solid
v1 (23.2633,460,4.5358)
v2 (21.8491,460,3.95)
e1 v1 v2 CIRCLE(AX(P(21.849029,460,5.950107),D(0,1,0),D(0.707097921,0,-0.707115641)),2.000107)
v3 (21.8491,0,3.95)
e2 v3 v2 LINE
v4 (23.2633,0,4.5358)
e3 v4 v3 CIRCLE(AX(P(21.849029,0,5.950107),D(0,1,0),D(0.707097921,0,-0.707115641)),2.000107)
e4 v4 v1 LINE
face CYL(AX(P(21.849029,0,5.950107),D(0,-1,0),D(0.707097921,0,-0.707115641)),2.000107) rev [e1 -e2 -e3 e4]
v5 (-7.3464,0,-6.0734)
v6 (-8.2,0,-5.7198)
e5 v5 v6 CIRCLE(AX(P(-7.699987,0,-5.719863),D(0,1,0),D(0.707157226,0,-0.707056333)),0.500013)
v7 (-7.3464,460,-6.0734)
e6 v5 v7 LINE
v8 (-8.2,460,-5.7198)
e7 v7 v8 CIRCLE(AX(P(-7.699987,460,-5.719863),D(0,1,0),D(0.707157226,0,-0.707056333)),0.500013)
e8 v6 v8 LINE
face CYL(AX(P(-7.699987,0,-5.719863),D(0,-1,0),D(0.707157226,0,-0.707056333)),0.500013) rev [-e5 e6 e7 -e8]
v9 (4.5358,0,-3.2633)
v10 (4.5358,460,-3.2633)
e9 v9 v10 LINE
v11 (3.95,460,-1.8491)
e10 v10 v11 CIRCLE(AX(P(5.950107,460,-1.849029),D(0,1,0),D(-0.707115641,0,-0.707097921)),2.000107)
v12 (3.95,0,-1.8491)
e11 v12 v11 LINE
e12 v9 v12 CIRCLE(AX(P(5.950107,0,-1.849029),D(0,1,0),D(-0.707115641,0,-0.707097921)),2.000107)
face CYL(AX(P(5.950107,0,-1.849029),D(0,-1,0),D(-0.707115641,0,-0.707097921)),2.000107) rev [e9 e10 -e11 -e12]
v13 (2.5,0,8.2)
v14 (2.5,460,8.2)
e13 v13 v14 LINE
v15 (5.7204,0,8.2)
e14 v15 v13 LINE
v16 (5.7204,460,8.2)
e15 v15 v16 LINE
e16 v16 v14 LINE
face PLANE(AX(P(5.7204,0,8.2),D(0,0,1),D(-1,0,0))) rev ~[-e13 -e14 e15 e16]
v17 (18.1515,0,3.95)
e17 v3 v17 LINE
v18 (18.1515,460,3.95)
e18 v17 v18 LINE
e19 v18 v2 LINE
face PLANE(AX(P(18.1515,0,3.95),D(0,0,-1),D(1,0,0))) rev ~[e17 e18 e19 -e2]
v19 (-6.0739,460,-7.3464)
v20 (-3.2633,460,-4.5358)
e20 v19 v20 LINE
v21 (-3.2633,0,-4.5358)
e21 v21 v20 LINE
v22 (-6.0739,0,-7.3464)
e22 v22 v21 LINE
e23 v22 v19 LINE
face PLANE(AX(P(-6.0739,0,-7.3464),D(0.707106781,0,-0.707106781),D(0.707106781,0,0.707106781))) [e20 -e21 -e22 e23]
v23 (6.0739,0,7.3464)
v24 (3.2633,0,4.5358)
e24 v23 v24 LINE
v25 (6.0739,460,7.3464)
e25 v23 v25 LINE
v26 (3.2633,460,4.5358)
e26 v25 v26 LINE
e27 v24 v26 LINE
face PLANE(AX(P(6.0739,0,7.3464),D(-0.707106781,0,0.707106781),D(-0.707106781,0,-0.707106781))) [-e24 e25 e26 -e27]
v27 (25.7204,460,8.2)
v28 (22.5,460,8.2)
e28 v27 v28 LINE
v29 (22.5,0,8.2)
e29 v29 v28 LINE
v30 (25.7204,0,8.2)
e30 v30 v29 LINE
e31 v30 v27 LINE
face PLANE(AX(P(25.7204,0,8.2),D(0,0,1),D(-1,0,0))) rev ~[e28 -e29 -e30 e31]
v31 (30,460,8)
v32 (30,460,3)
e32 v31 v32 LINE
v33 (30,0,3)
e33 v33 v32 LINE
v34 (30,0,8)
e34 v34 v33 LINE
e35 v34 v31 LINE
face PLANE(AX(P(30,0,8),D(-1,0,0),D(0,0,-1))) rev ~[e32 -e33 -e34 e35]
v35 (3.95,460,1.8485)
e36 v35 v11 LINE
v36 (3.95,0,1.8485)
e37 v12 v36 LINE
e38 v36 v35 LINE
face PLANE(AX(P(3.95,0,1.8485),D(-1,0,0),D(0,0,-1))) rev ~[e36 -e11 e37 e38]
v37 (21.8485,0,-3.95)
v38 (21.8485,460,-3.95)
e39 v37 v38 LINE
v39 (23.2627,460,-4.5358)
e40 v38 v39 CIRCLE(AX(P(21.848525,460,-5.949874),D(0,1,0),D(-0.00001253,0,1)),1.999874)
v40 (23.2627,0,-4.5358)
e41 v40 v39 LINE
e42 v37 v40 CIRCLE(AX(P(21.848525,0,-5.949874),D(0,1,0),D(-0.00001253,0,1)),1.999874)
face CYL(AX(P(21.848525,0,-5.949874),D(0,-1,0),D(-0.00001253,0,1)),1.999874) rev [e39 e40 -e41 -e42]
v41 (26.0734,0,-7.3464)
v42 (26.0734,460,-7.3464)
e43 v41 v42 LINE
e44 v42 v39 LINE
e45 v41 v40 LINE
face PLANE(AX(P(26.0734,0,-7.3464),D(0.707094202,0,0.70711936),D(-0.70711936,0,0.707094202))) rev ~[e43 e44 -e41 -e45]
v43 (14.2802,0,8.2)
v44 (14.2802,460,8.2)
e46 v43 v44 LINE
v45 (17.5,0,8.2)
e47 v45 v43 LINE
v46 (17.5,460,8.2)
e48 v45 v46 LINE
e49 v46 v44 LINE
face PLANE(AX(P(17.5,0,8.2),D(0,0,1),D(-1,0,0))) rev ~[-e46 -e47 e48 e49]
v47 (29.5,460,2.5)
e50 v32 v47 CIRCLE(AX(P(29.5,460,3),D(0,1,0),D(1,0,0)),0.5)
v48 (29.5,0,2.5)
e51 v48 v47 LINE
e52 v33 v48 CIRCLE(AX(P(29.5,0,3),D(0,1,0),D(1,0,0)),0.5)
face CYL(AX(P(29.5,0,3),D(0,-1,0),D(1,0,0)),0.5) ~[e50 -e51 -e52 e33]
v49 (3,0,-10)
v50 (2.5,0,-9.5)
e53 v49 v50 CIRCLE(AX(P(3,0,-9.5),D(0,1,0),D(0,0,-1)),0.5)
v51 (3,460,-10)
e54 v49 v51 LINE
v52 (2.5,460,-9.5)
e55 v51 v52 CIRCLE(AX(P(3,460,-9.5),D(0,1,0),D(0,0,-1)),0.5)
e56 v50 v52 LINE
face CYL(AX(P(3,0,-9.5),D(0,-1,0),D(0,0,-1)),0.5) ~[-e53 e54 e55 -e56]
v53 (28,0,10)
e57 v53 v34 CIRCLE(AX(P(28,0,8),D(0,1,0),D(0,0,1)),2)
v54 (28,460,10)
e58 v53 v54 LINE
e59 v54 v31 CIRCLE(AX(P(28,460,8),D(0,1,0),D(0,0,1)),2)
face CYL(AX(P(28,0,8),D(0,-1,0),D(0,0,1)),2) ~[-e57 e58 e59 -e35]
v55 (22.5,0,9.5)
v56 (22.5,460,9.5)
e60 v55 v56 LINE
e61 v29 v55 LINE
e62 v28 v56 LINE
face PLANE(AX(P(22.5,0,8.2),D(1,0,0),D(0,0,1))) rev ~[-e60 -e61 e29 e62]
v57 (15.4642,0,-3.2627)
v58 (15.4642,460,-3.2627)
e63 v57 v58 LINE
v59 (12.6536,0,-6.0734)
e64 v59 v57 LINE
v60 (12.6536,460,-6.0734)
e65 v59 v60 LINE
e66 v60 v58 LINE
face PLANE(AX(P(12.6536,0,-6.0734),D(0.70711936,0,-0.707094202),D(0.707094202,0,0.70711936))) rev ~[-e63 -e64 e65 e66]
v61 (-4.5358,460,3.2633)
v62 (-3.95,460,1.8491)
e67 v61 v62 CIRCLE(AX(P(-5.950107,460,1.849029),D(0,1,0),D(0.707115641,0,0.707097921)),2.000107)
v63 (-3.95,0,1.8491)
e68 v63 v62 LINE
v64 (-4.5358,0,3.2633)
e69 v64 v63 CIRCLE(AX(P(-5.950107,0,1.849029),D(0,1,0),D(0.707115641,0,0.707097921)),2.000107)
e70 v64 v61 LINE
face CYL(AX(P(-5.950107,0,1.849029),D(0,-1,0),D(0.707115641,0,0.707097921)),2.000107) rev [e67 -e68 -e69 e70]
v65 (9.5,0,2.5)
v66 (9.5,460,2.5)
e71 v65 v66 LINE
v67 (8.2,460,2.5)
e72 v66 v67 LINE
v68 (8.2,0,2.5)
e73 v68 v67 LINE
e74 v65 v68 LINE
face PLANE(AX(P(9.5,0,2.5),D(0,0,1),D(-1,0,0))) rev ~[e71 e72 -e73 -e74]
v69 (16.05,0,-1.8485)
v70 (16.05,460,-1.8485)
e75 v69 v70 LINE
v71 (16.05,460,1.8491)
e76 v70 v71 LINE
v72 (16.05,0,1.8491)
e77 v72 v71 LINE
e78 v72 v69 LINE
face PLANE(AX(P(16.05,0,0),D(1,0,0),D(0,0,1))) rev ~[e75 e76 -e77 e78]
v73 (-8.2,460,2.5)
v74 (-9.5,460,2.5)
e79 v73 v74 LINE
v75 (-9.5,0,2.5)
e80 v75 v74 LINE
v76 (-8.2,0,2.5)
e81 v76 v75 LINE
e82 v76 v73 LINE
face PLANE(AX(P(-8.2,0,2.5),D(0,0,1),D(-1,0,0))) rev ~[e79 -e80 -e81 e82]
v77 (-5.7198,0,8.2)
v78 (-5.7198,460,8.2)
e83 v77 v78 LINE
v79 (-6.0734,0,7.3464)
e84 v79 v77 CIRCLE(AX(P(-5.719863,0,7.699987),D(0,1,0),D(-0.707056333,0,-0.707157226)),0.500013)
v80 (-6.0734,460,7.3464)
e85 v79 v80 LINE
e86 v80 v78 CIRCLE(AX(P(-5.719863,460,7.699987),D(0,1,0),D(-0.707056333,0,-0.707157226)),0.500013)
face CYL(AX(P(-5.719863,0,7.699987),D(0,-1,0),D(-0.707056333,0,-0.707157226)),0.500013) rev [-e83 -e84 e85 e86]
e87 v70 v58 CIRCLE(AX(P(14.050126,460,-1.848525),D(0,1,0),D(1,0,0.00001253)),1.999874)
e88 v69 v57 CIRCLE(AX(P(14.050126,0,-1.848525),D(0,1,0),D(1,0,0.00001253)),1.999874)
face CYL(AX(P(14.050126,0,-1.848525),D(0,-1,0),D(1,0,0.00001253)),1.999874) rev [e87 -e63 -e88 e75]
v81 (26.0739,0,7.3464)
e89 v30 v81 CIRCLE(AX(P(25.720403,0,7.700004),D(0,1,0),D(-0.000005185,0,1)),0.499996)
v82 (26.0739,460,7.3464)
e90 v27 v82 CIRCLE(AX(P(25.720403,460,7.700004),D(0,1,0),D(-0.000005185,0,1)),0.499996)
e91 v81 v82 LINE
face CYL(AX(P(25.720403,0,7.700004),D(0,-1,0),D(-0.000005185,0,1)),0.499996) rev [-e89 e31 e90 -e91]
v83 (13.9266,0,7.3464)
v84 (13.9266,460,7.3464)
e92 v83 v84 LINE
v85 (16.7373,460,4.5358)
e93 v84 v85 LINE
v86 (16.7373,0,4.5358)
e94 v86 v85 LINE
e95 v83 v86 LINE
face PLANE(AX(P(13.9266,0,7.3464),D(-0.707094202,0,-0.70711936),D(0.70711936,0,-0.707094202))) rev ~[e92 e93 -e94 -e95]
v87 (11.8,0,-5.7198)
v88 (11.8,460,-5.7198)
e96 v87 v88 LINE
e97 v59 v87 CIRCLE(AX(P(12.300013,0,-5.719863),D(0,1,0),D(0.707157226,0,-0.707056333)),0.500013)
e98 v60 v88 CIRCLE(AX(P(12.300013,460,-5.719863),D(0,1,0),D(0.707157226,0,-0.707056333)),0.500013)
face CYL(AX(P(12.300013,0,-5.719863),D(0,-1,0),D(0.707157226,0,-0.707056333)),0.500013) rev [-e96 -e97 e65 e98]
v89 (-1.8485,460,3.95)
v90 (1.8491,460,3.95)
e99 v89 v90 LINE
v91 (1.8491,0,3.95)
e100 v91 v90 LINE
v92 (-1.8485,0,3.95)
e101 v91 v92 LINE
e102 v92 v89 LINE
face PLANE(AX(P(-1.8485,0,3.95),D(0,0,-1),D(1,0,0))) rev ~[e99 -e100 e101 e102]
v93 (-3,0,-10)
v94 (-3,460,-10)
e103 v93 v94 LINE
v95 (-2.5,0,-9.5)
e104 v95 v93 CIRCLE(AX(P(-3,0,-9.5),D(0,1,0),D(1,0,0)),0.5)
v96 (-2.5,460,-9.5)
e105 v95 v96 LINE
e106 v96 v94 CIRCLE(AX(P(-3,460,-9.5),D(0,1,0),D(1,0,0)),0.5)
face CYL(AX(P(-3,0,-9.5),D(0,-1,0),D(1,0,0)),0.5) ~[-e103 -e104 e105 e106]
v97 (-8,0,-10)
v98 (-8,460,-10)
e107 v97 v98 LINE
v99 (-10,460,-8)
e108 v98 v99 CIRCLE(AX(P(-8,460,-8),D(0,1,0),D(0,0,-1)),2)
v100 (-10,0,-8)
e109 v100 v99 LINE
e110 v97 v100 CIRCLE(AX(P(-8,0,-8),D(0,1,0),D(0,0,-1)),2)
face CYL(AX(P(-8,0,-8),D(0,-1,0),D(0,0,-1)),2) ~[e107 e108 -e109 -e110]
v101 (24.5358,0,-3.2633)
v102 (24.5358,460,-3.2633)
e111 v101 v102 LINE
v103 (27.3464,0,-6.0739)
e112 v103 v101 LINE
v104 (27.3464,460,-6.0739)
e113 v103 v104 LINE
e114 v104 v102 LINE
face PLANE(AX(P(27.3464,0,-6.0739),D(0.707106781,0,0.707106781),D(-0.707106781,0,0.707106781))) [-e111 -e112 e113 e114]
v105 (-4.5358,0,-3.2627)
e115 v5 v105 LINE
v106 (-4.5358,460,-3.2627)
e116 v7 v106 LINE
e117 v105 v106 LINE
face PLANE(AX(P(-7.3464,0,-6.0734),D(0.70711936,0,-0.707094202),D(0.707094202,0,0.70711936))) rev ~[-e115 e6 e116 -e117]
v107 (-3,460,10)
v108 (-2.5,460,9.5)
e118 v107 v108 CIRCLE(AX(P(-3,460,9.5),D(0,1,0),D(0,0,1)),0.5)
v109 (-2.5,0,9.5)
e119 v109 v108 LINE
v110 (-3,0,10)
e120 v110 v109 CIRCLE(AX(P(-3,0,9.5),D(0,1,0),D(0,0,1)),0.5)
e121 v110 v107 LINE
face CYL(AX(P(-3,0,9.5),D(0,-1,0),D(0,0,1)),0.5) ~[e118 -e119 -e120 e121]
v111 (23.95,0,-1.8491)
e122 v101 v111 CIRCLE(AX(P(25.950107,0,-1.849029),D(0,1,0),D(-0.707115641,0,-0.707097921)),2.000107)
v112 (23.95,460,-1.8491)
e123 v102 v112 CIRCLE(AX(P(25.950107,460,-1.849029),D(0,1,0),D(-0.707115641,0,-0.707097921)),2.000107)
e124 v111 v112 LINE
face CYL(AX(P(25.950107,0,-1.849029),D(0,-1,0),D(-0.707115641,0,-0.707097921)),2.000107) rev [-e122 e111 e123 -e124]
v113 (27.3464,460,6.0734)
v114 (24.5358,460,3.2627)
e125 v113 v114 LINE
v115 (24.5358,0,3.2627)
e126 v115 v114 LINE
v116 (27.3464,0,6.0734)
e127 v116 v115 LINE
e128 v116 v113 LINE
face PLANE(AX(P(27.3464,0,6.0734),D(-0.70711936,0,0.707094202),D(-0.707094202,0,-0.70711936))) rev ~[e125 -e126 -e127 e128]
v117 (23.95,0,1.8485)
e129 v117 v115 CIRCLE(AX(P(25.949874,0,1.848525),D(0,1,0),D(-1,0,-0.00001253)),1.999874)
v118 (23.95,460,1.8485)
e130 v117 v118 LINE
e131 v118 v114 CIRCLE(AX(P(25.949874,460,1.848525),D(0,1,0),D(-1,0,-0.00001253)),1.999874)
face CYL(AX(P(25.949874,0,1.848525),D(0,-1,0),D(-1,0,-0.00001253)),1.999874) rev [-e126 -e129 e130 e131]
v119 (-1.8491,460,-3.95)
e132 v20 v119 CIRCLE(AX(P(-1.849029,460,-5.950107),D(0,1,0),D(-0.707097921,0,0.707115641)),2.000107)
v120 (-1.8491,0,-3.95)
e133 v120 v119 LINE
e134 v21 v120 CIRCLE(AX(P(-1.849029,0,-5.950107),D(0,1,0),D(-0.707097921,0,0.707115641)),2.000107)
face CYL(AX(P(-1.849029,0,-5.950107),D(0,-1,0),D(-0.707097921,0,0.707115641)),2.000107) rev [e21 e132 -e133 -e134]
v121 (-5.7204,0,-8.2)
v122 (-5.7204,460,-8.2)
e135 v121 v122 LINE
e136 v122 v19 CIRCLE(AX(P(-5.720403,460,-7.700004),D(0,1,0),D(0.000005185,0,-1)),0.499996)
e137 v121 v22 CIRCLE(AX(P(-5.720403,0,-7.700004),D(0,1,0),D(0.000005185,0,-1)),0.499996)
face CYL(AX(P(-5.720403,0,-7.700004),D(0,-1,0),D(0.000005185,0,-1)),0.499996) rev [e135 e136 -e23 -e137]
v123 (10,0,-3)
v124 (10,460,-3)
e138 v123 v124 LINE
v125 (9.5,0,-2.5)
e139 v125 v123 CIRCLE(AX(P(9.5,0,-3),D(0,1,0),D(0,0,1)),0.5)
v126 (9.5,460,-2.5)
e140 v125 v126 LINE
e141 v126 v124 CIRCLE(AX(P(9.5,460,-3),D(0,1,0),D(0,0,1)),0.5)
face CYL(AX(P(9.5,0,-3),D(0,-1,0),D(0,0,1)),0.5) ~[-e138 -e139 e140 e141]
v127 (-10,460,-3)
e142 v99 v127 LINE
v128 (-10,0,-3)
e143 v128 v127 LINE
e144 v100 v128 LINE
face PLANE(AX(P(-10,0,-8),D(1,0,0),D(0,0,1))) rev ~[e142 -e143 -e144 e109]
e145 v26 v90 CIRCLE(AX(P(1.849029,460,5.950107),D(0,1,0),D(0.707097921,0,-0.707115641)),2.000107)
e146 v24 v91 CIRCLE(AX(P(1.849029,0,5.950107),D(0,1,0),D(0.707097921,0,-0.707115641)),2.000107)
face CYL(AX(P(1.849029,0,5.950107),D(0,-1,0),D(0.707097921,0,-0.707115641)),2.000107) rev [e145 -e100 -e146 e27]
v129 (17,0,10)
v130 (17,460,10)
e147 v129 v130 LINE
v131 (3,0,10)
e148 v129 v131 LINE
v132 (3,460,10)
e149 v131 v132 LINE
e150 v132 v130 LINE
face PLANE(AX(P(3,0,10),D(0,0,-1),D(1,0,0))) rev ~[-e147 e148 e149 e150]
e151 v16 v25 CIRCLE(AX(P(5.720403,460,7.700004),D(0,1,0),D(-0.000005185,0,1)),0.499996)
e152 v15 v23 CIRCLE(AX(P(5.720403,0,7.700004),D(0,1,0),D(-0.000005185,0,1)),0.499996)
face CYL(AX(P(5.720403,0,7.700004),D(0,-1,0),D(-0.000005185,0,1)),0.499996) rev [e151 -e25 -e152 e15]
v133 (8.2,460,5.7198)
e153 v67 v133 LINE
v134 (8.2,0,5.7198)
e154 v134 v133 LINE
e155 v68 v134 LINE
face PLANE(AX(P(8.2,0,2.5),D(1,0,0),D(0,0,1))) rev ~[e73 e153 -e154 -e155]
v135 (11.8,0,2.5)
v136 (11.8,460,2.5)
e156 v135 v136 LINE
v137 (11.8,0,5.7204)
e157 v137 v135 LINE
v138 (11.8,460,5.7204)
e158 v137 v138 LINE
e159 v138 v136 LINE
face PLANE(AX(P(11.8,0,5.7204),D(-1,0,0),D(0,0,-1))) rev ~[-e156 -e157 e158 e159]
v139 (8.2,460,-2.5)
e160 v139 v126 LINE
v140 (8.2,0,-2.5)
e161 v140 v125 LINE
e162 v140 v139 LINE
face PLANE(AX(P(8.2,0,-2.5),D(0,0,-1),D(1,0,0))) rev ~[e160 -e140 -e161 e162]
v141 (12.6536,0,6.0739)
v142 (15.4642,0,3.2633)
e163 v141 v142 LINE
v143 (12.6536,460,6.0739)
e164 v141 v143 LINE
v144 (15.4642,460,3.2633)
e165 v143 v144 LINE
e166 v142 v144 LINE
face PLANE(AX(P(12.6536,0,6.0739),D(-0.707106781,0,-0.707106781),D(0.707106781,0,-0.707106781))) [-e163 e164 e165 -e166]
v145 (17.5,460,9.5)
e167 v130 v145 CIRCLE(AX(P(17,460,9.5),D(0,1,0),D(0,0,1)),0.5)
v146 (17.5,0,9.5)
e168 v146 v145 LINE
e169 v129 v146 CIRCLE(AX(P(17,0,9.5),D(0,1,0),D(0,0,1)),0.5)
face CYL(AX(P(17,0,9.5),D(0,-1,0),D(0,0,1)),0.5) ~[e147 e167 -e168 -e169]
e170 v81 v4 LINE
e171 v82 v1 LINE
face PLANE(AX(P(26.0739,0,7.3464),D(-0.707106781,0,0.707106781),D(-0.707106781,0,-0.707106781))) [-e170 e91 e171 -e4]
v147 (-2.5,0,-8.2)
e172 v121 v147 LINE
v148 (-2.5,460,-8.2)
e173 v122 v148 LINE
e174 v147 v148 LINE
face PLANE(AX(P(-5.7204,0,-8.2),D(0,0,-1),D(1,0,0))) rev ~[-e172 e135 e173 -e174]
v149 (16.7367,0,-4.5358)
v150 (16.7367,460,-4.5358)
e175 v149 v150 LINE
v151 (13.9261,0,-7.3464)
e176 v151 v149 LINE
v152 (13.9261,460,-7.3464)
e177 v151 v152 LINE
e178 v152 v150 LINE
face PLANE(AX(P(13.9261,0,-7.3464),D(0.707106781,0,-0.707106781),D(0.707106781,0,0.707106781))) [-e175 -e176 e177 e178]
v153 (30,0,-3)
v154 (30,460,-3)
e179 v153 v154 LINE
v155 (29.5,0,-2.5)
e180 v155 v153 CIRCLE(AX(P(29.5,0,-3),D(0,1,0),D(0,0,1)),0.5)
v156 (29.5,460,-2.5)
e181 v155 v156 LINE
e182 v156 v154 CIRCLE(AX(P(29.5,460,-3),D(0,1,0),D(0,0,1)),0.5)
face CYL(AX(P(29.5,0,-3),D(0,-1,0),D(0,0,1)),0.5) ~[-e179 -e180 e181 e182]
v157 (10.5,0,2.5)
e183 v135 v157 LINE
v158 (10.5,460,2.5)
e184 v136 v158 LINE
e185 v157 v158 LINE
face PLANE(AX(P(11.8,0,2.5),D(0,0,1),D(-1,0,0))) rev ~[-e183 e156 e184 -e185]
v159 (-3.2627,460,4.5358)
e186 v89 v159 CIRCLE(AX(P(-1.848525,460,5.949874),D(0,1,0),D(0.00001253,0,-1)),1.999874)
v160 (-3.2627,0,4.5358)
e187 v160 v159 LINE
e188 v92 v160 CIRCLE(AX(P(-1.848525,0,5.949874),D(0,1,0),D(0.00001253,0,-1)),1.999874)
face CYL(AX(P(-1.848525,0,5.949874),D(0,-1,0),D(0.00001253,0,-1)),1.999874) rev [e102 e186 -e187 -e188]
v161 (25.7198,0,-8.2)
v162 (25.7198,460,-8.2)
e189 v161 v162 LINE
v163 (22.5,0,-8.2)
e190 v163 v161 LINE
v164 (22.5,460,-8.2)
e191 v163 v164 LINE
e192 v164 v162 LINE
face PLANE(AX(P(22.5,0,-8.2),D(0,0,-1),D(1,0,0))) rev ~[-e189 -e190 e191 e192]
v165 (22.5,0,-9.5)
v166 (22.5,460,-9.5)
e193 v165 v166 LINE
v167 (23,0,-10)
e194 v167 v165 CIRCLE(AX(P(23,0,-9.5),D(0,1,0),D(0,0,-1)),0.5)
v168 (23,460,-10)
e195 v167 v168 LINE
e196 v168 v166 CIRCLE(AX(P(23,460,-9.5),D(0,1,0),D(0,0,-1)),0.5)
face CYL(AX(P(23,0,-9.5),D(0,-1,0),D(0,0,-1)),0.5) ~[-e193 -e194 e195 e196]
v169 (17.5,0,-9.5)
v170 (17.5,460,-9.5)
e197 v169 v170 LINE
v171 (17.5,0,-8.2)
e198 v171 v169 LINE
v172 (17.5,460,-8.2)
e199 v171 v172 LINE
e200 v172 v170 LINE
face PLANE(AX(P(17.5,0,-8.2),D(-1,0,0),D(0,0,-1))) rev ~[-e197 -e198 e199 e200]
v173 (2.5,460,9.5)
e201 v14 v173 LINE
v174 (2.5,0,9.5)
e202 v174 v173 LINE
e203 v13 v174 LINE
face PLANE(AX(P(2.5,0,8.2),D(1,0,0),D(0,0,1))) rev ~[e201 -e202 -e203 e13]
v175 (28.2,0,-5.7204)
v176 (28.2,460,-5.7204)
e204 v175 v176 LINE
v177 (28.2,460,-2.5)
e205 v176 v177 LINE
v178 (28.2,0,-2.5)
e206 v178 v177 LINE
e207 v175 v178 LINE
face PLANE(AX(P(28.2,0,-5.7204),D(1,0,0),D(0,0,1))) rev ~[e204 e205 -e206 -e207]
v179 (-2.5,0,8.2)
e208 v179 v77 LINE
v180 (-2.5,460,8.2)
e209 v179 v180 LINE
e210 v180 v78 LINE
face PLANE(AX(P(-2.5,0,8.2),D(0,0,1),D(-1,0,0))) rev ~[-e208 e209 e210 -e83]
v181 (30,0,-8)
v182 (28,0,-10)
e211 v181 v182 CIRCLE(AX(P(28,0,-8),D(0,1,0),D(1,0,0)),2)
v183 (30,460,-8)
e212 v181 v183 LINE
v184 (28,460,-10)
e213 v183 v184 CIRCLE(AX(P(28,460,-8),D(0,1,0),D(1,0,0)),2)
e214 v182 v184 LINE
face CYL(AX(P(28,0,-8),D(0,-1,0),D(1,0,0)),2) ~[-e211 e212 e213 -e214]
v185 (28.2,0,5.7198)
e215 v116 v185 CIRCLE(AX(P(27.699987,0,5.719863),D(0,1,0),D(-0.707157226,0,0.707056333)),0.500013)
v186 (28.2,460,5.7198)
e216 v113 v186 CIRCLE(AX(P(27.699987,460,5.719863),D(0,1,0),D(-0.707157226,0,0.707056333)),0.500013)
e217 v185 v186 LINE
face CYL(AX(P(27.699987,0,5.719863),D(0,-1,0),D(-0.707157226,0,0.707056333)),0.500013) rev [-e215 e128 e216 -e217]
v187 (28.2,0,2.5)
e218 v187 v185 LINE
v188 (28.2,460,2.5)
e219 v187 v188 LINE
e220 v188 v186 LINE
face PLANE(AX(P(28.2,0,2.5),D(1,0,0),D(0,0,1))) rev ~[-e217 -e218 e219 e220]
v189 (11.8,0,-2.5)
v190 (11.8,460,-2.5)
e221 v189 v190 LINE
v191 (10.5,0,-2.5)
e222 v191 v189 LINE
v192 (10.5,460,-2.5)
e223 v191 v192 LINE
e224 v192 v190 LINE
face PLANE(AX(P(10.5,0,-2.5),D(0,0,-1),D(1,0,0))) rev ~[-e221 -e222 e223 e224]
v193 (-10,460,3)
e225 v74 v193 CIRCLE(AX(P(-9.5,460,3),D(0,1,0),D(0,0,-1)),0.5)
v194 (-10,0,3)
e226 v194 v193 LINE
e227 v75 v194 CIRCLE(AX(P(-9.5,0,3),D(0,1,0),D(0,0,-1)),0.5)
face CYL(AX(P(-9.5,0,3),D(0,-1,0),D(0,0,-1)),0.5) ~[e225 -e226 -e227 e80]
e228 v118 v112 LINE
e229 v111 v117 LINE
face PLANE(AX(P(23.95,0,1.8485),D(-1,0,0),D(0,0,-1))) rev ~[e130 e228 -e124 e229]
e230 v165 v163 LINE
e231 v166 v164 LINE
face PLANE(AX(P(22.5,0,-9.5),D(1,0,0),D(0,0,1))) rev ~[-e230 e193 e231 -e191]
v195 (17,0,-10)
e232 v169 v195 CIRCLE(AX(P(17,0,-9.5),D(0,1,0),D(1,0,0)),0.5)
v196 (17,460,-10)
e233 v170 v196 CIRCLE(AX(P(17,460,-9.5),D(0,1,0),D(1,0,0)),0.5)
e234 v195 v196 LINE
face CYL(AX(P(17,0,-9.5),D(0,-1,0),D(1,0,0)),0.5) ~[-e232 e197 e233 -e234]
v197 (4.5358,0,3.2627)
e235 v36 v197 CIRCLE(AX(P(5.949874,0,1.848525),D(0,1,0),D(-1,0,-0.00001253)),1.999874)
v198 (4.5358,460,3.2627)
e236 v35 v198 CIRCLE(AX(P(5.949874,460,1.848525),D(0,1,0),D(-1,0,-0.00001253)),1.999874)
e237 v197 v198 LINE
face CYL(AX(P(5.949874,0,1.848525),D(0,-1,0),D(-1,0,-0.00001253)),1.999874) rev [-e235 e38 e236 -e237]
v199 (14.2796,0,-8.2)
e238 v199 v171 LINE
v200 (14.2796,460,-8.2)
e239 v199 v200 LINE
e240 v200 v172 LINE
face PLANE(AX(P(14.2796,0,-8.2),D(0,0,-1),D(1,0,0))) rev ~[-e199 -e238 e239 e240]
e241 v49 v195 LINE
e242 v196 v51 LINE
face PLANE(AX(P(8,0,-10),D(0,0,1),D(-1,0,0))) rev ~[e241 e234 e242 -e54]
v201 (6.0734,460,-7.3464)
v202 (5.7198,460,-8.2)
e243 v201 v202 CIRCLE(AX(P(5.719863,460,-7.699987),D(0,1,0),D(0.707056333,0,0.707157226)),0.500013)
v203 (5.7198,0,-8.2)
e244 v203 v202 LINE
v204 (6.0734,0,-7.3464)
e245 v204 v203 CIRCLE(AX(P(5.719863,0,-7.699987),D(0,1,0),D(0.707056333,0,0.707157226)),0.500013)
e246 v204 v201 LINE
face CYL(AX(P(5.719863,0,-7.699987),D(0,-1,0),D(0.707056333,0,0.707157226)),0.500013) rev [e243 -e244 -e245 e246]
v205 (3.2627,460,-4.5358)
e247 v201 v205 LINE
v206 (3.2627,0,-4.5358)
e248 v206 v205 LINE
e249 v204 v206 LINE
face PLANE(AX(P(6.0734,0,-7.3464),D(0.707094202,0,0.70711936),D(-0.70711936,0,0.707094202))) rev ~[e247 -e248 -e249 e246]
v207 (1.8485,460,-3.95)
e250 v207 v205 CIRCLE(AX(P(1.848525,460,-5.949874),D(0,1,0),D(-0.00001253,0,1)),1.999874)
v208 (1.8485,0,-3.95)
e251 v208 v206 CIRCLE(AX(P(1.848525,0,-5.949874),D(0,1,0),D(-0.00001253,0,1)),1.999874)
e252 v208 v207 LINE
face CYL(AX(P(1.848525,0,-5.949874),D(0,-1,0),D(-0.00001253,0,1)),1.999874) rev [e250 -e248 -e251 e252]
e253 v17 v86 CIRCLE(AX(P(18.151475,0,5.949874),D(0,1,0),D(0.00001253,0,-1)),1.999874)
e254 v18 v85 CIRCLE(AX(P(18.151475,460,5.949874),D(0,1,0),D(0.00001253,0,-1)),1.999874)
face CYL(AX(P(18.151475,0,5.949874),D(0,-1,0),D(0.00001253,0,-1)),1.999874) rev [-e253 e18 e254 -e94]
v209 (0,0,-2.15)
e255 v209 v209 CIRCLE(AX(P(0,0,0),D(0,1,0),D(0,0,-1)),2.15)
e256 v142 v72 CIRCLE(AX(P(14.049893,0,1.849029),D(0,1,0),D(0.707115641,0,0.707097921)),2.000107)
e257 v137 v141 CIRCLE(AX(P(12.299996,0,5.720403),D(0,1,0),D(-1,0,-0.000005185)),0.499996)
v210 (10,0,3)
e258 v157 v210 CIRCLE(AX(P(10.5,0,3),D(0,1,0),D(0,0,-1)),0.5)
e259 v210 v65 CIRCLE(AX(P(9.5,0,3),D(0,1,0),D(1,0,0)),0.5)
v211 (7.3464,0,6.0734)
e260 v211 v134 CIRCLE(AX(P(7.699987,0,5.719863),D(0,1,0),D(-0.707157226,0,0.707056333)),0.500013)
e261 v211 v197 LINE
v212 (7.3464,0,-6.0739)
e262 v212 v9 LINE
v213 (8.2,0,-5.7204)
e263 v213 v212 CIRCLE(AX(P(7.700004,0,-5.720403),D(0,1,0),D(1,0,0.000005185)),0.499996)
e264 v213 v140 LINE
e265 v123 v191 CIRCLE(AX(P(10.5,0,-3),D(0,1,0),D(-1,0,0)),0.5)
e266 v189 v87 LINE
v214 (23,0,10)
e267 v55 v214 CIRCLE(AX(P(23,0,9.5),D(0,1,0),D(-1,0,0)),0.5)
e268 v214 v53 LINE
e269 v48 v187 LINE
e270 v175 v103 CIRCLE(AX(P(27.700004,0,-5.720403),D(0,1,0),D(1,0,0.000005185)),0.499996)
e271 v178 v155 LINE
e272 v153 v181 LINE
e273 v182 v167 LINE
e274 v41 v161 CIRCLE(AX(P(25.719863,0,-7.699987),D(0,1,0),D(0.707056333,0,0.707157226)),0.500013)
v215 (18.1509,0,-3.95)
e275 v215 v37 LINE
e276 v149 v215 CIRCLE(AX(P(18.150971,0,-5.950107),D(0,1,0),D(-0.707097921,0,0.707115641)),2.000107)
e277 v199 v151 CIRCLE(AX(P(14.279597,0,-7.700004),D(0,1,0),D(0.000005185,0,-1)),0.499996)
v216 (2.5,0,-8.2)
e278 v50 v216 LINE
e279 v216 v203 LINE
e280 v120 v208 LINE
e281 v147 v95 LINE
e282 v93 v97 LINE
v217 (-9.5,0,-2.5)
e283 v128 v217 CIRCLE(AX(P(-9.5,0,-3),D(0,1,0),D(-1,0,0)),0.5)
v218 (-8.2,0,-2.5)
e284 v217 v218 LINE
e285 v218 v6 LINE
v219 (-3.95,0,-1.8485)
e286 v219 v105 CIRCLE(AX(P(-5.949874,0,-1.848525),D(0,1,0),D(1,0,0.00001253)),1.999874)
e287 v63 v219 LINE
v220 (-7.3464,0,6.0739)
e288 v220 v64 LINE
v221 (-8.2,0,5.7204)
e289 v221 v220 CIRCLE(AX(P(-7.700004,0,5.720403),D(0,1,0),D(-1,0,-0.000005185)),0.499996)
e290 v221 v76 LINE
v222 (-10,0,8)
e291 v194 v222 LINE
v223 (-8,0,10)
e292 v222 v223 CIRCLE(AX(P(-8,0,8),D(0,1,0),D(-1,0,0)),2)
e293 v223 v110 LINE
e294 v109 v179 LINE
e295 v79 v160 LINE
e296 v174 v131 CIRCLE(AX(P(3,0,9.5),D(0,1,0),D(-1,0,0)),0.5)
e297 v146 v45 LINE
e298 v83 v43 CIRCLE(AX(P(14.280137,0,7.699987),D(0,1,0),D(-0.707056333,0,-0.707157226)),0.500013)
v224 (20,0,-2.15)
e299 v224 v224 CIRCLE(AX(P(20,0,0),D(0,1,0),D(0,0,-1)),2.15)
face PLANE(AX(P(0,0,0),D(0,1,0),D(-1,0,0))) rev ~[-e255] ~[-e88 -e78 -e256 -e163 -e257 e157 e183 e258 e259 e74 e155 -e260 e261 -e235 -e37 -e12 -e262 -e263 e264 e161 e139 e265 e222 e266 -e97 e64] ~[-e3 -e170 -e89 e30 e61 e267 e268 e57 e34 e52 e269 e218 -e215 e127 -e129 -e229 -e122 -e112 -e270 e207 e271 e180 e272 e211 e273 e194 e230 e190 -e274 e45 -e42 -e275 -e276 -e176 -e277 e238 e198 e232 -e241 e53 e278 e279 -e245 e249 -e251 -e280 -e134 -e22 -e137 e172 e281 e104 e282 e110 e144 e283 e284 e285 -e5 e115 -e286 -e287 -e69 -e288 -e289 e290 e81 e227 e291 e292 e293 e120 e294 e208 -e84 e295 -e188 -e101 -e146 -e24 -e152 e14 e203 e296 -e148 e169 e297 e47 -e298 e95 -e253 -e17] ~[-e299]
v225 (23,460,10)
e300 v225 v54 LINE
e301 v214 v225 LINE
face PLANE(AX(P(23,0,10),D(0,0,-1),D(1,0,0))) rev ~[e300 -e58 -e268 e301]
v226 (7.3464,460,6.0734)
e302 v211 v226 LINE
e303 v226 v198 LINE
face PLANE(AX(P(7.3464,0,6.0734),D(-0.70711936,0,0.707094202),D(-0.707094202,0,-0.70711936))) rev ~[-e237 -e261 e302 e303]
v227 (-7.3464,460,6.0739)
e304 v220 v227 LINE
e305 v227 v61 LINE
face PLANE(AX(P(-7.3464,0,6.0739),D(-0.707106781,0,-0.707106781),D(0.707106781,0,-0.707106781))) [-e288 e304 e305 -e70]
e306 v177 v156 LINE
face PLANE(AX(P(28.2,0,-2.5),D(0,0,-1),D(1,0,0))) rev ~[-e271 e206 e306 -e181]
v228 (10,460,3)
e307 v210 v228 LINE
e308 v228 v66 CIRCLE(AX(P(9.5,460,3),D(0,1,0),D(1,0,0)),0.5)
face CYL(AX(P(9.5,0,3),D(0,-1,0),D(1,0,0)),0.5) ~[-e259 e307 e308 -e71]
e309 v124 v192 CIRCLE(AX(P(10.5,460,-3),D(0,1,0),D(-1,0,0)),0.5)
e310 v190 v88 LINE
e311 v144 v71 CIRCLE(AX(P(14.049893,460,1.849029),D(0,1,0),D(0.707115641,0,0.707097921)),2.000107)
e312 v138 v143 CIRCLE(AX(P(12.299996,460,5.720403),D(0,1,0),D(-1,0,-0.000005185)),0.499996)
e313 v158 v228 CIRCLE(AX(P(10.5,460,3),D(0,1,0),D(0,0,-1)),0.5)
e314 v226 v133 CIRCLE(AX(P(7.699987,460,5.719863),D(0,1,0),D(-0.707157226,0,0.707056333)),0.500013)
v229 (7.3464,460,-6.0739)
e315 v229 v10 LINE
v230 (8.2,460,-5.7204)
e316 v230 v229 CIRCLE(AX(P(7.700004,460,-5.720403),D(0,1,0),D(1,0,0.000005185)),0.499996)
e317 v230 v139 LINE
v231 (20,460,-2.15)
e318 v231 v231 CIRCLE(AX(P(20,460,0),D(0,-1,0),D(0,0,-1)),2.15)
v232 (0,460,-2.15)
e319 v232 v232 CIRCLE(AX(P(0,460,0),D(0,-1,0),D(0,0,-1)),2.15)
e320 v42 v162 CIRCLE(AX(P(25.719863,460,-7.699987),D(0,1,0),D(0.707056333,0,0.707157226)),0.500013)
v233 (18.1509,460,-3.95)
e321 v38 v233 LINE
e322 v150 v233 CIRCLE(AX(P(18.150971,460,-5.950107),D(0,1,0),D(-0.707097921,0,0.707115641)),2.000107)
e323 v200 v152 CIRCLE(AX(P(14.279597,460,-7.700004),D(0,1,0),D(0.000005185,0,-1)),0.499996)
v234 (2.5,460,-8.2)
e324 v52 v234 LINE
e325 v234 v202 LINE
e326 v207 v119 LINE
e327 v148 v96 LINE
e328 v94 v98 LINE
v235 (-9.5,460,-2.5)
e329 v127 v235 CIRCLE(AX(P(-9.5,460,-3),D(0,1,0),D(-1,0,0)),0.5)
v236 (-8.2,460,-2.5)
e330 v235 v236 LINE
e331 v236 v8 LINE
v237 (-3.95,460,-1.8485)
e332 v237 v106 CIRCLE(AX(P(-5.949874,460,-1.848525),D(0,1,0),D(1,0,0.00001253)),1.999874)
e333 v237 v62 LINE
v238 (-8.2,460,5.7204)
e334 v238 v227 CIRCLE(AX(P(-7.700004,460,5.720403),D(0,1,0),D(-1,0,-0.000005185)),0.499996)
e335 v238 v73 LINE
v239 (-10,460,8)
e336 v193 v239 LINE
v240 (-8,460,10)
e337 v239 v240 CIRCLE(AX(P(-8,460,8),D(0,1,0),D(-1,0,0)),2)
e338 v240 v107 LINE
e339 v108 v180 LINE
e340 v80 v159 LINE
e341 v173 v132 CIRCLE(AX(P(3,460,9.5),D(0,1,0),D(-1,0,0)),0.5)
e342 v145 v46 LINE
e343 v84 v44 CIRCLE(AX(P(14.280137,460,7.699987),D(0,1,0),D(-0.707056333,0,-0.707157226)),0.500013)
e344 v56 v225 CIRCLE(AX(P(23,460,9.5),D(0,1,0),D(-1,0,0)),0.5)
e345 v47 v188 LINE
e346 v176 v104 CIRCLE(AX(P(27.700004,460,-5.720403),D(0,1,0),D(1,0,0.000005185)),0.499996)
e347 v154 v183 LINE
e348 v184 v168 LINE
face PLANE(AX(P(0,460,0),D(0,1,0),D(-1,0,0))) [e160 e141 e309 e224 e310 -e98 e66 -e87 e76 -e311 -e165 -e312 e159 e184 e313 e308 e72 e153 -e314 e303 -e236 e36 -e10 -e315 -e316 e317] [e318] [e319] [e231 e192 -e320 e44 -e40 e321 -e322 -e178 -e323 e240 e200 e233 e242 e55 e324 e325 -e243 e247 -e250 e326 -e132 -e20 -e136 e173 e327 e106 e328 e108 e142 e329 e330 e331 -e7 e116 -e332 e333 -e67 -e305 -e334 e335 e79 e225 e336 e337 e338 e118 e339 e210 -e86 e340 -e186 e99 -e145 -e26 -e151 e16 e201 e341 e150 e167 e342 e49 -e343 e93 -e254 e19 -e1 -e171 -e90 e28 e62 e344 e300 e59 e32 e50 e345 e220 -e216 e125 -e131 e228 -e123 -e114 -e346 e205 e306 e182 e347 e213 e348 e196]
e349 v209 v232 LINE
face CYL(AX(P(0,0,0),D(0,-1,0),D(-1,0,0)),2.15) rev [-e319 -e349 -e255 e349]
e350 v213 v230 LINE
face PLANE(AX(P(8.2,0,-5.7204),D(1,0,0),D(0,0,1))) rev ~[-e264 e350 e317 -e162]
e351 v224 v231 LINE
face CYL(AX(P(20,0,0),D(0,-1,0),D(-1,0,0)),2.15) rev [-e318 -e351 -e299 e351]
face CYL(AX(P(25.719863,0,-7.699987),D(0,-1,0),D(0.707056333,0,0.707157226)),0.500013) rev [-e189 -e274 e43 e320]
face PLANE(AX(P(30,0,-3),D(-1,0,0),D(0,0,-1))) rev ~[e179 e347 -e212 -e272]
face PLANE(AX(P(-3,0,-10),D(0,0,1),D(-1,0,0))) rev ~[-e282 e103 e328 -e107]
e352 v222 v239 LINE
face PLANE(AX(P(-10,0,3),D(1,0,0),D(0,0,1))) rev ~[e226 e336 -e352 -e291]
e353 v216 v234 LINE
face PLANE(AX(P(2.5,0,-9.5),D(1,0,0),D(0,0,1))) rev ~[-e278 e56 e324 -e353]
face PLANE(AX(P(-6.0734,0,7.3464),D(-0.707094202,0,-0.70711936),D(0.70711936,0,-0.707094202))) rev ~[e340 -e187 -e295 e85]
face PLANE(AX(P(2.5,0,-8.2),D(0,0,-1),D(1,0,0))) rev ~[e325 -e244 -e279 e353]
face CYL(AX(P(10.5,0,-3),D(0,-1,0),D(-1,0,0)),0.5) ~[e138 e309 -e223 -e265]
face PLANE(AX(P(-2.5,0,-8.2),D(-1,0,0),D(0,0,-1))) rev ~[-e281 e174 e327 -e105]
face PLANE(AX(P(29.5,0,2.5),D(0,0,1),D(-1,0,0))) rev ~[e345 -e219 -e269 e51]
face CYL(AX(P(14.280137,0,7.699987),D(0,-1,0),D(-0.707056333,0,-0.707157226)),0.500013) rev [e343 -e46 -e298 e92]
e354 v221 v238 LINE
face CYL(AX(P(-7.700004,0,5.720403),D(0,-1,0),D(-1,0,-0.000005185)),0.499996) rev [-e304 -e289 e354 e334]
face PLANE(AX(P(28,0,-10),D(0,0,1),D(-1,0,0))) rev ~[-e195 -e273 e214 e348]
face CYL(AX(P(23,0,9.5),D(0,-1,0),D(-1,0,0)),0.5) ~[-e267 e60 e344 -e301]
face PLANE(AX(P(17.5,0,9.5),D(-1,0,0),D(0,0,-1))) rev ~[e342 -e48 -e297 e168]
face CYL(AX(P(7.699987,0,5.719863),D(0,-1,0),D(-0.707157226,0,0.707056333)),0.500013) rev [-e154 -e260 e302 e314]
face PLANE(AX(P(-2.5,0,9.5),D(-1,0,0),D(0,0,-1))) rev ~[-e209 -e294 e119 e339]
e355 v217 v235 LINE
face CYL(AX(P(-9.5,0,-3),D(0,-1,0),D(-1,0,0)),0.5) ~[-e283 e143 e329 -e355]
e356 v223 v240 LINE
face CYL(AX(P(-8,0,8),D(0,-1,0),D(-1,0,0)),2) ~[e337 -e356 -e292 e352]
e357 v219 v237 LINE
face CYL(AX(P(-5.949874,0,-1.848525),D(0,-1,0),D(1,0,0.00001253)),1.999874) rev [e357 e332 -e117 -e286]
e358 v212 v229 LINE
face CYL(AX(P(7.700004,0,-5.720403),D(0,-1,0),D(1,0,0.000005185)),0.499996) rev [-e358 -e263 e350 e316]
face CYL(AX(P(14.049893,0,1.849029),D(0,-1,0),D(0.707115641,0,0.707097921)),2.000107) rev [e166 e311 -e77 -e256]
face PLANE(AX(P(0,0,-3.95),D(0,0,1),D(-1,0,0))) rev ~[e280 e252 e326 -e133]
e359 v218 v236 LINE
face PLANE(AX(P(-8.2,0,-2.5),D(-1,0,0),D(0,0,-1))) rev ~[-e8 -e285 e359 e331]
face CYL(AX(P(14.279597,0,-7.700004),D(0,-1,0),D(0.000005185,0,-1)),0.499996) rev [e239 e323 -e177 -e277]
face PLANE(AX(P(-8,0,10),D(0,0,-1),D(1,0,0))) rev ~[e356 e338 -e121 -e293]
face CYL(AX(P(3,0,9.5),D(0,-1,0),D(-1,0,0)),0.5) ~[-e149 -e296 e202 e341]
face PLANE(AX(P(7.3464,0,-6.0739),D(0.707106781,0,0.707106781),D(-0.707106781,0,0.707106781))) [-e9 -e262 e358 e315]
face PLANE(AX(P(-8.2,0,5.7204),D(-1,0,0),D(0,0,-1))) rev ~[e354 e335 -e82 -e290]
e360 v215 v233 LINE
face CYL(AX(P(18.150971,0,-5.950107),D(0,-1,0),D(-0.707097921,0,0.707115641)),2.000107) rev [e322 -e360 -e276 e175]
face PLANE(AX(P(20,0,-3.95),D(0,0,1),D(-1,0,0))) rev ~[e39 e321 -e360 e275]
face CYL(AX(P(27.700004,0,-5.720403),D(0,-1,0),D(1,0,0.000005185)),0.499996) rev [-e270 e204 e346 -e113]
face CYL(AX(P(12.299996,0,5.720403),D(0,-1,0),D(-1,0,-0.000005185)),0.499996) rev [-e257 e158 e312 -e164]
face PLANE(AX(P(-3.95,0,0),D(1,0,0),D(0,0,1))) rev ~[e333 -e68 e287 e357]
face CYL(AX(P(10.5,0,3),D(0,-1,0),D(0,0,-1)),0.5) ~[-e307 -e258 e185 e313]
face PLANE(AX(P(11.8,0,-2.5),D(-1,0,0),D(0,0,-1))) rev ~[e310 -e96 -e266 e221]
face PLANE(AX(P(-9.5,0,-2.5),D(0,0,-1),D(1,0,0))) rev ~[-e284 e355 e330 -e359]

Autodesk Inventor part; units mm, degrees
ref_plane "YZ Plane" through (0, 0, 0) normal (1, 0, 0) x (0, 1, 0)
ref_plane "XZ Plane" through (0, 0, 0) normal (0, 1, 0) x (-1, 0, 0)
ref_plane "XY Plane" through (0, 0, 0) normal (0, 0, 1) x (1, 0, 0)
sketch "Sketch1" plane through (0, 0, 0) normal (0, 1, 0) x (-1, 0, 0)
  line L0 (8, 10) -> (3, 10)
  line L1 (10, 3) -> (10, 8)
  line L2 (2.5, 9.5) -> (2.5, 8.2)
  line L3 (2.5, 8.2) -> (5.7198, 8.2)
  line L4 (6.0734, 7.3464) -> (3.2627, 4.5358)
  line L5 (1.8485, 3.95) -> (0, 3.95)
  line L6 (0, 3.95) -> (0, 2.15)
  line L7 (0, 2.15) -> (0, 2.15)
  line L8 (2.15, 0) -> (2.15, 0)
  line L9 (2.15, 0) -> (3.95, 0)
  line L10 (8.2, 5.7204) -> (8.2, 2.5)
  line L11 (8.2, 2.5) -> (9.5, 2.5)
  line L12 (0, 29.0836) -> (0, -4.1523) construction
  line L13 (3.95, 0) -> (3.95, 1.8491)
  line L14 (7.3464, 6.0739) -> (4.5358, 3.2633)
  arc A0 (10, 8) -> (8, 10) centre (8, 8) ccw
  arc A1 (8.2, 5.7204) -> (7.3464, 6.0739) centre (7.7, 5.7204) ccw
  arc A2 (6.0734, 7.3464) -> (5.7198, 8.2) centre (5.7198, 7.7) ccw
  arc A3 (4.5358, 3.2633) -> (3.95, 1.8491) centre (5.95, 1.8491) ccw
  arc A4 (1.8485, 3.95) -> (3.2627, 4.5358) centre (1.8485, 5.95) ccw
  arc A5 (2.15, 0) -> (0, 2.15) centre (0, 0) ccw
  arc A6 (3, 10) -> (2.5, 9.5) centre (3, 9.5) ccw
  arc A7 (9.5, 2.5) -> (10, 3) centre (9.5, 3) ccw
  line L15 (18.5462, 0) -> (-9.9601, 0) construction
  line L16 (-3, 10) -> (-8, 10)
  arc A8 (-2.5, 9.5) -> (-3, 10) centre (-3, 9.5) ccw
  line L17 (-2.5, 8.2) -> (-2.5, 9.5)
  line L18 (-5.7204, 8.2) -> (-2.5, 8.2)
  arc A9 (-5.7204, 8.2) -> (-6.0739, 7.3464) centre (-5.7204, 7.7) ccw
  line L19 (-6.0739, 7.3464) -> (-3.2633, 4.5358)
  arc A10 (-3.2633, 4.5358) -> (-1.8491, 3.95) centre (-1.8491, 5.95) ccw
  line L20 (0, 3.95) -> (-1.8491, 3.95)
  line L21 (0, 2.15) -> (0, 3.95)
  arc A11 (0, 2.15) -> (-2.15, 0) centre (0, 0) ccw
  line L22 (-3.95, 0) -> (-2.15, 0)
  line L23 (-3.95, 1.8485) -> (-3.95, 0)
  arc A12 (-3.95, 1.8485) -> (-4.5358, 3.2627) centre (-5.95, 1.8485) ccw
  line L24 (-7.3464, 6.0734) -> (-4.5358, 3.2627)
  arc A13 (-7.3464, 6.0734) -> (-8.2, 5.7198) centre (-7.7, 5.7198) ccw
  line L25 (-8.2, 2.5) -> (-8.2, 5.7198)
  line L26 (-9.5, 2.5) -> (-8.2, 2.5)
  arc A14 (-10, 3) -> (-9.5, 2.5) centre (-9.5, 3) ccw
  line L27 (-10, 8) -> (-10, 3)
  arc A15 (-8, 10) -> (-10, 8) centre (-8, 8) ccw
  line L28 (-10, -3) -> (-10, -8)
  arc A16 (-9.5, -2.5) -> (-10, -3) centre (-9.5, -3) ccw
  line L29 (-8.2, -2.5) -> (-9.5, -2.5)
  line L30 (-8.2, -5.7204) -> (-8.2, -2.5)
  arc A17 (-8.2, -5.7204) -> (-7.3464, -6.0739) centre (-7.7, -5.7204) ccw
  line L31 (-7.3464, -6.0739) -> (-4.5358, -3.2633)
  arc A18 (-4.5358, -3.2633) -> (-3.95, -1.8491) centre (-5.95, -1.8491) ccw
  line L32 (-3.95, 0) -> (-3.95, -1.8491)
  line L33 (-2.15, 0) -> (-3.95, 0)
  arc A19 (-2.15, 0) -> (0, -2.15) centre (0, 0) ccw
  line L34 (0, -3.95) -> (0, -2.15)
  line L35 (-1.8485, -3.95) -> (0, -3.95)
  arc A20 (-1.8485, -3.95) -> (-3.2627, -4.5358) centre (-1.8485, -5.95) ccw
  line L36 (-6.0734, -7.3464) -> (-3.2627, -4.5358)
  arc A21 (-6.0734, -7.3464) -> (-5.7198, -8.2) centre (-5.7198, -7.7) ccw
  line L37 (-2.5, -8.2) -> (-5.7198, -8.2)
  line L38 (-2.5, -9.5) -> (-2.5, -8.2)
  arc A22 (-3, -10) -> (-2.5, -9.5) centre (-3, -9.5) ccw
  line L39 (-8, -10) -> (-3, -10)
  arc A23 (-10, -8) -> (-8, -10) centre (-8, -8) ccw
  line L40 (3, -10) -> (8, -10)
  arc A24 (2.5, -9.5) -> (3, -10) centre (3, -9.5) ccw
  line L41 (2.5, -8.2) -> (2.5, -9.5)
  line L42 (5.7204, -8.2) -> (2.5, -8.2)
  arc A25 (5.7204, -8.2) -> (6.0739, -7.3464) centre (5.7204, -7.7) ccw
  line L43 (6.0739, -7.3464) -> (3.2633, -4.5358)
  arc A26 (3.2633, -4.5358) -> (1.8491, -3.95) centre (1.8491, -5.95) ccw
  line L44 (0, -3.95) -> (1.8491, -3.95)
  line L45 (0, -2.15) -> (0, -3.95)
  arc A27 (0, -2.15) -> (2.15, 0) centre (0, 0) ccw
  line L46 (3.95, 0) -> (2.15, 0)
  line L47 (3.95, -1.8485) -> (3.95, 0)
  arc A28 (3.95, -1.8485) -> (4.5358, -3.2627) centre (5.95, -1.8485) ccw
  line L48 (7.3464, -6.0734) -> (4.5358, -3.2627)
  arc A29 (7.3464, -6.0734) -> (8.2, -5.7198) centre (7.7, -5.7198) ccw
  line L49 (8.2, -2.5) -> (8.2, -5.7198)
  line L50 (9.5, -2.5) -> (8.2, -2.5)
  arc A30 (10, -3) -> (9.5, -2.5) centre (9.5, -3) ccw
  line L51 (10, -8) -> (10, -3)
  arc A31 (8, -10) -> (10, -8) centre (8, -8) ccw
  line L52 (-25.7204, 8.2) -> (-22.5, 8.2)
  line L53 (-22.5, 8.2) -> (-22.5, 9.5)
  arc A32 (-22.5, 9.5) -> (-23, 10) centre (-23, 9.5) ccw
  line L54 (-23, 10) -> (-28, 10)
  line L55 (-18.1515, 3.95) -> (-20, 3.95)
  line L56 (-20, 2.15) -> (-20, 2.15)
  line L57 (-17.85, 0) -> (-17.85, 0)
  line L58 (-17.85, 0) -> (-16.05, 0)
  line L59 (-11.8, 2.5) -> (-10.5, 2.5)
  line L60 (-1.4538, 0) -> (-29.9601, 0) construction
  line L61 (-16.05, 0) -> (-16.05, 1.8491)
  arc A33 (-15.4642, 3.2633) -> (-16.05, 1.8491) centre (-14.05, 1.8491) ccw
  arc A34 (-17.85, 0) -> (-20, 2.15) centre (-20, 0) ccw
  line L62 (-20, 3.95) -> (-20, 2.15)
  line L63 (-20, 3.95) -> (-21.8491, 3.95)
  arc A35 (-23.2633, 4.5358) -> (-21.8491, 3.95) centre (-21.8491, 5.95) ccw
  line L64 (-20, 2.15) -> (-20, 3.95)
  arc A36 (-20, 2.15) -> (-22.15, 0) centre (-20, 0) ccw
  arc A37 (-10.5, 2.5) -> (-10, 3) centre (-10.5, 3) ccw
  line L65 (-12.6536, -6.0734) -> (-15.4642, -3.2627)
  line L66 (-10.5, -2.5) -> (-11.8, -2.5)
  line L67 (-13.9261, -7.3464) -> (-16.7367, -4.5358)
  arc A38 (-10, -3) -> (-10.5, -2.5) centre (-10.5, -3) ccw
  line L68 (-14.2796, -8.2) -> (-17.5, -8.2)
  arc A39 (-12.6536, -6.0734) -> (-11.8, -5.7198) centre (-12.3, -5.7198) ccw
  arc A40 (-14.2796, -8.2) -> (-13.9261, -7.3464) centre (-14.2796, -7.7) ccw
  line L69 (-17, -10) -> (-12, -10)
  line L70 (-10, -8) -> (-10, -3)
  line L71 (-11.8, -2.5) -> (-11.8, -5.7198)
  arc A41 (-12, -10) -> (-10, -8) centre (-12, -8) ccw
  arc A42 (-25.7204, 8.2) -> (-26.0739, 7.3464) centre (-25.7204, 7.7) ccw
  arc A43 (-28, 10) -> (-30, 8) centre (-28, 8) ccw
  arc A44 (-27.3464, 6.0734) -> (-28.2, 5.7198) centre (-27.7, 5.7198) ccw
  line L72 (-26.0739, 7.3464) -> (-23.2633, 4.5358)
  line L73 (-27.3464, 6.0734) -> (-24.5358, 3.2627)
  arc A45 (-23.95, 1.8485) -> (-24.5358, 3.2627) centre (-25.95, 1.8485) ccw
  line L74 (-28.2, 2.5) -> (-28.2, 5.7198)
  line L75 (-30, 8) -> (-30, 3)
  line L76 (-29.5, 2.5) -> (-28.2, 2.5)
  arc A46 (-30, 3) -> (-29.5, 2.5) centre (-29.5, 3) ccw
  line L77 (-23.95, 0) -> (-22.15, 0)
  line L78 (-22.15, 0) -> (-23.95, 0)
  arc A47 (-22.15, 0) -> (-20, -2.15) centre (-20, 0) ccw
  line L79 (-23.95, 0) -> (-23.95, -1.8491)
  arc A48 (-24.5358, -3.2633) -> (-23.95, -1.8491) centre (-25.95, -1.8491) ccw
  line L80 (-21.8485, -3.95) -> (-20, -3.95)
  line L81 (-20, -3.95) -> (-20, -2.15)
  line L82 (-20, -2.15) -> (-20, -3.95)
  line L83 (-17.5, 9.5) -> (-17.5, 8.2)
  arc A49 (-18.1515, 3.95) -> (-16.7373, 4.5358) centre (-18.1515, 5.95) ccw
  arc A50 (-17, 10) -> (-17.5, 9.5) centre (-17, 9.5) ccw
  line L84 (-17.5, 8.2) -> (-14.2802, 8.2)
  line L85 (-13.9266, 7.3464) -> (-16.7373, 4.5358)
  arc A51 (-13.9266, 7.3464) -> (-14.2802, 8.2) centre (-14.2802, 7.7) ccw
  line L86 (-12.6536, 6.0739) -> (-15.4642, 3.2633)
  line L87 (-11.8, 5.7204) -> (-11.8, 2.5)
  arc A52 (-11.8, 5.7204) -> (-12.6536, 6.0739) centre (-12.3, 5.7204) ccw
  line L88 (-12, 10) -> (-17, 10)
  line L89 (-10, 3) -> (-10, 8)
  arc A53 (-10, 8) -> (-12, 10) centre (-12, 8) ccw
  line L90 (-30, -3) -> (-30, -8)
  arc A54 (-28.2, -5.7204) -> (-27.3464, -6.0739) centre (-27.7, -5.7204) ccw
  arc A55 (-30, -8) -> (-28, -10) centre (-28, -8) ccw
  line L91 (-27.3464, -6.0739) -> (-24.5358, -3.2633)
  arc A56 (-26.0734, -7.3464) -> (-25.7198, -8.2) centre (-25.7198, -7.7) ccw
  line L92 (-26.0734, -7.3464) -> (-23.2627, -4.5358)
  arc A57 (-21.8485, -3.95) -> (-23.2627, -4.5358) centre (-21.8485, -5.95) ccw
  line L93 (-28, -10) -> (-23, -10)
  line L94 (-22.5, -8.2) -> (-25.7198, -8.2)
  line L95 (-22.5, -9.5) -> (-22.5, -8.2)
  arc A58 (-23, -10) -> (-22.5, -9.5) centre (-23, -9.5) ccw
  line L96 (-20, -3.95) -> (-18.1509, -3.95)
  arc A59 (-20, -2.15) -> (-17.85, 0) centre (-20, 0) ccw
  line L97 (-16.05, -1.8485) -> (-16.05, 0)
  line L98 (-16.05, 0) -> (-17.85, 0)
  arc A60 (-16.05, -1.8485) -> (-15.4642, -3.2627) centre (-14.05, -1.8485) ccw
  arc A61 (-16.7367, -4.5358) -> (-18.1509, -3.95) centre (-18.1509, -5.95) ccw
  line L99 (-23.95, 1.8485) -> (-23.95, 0)
  line L100 (-17.5, -8.2) -> (-17.5, -9.5)
  arc A62 (-17.5, -9.5) -> (-17, -10) centre (-17, -9.5) ccw
  line L101 (-28.2, -5.7204) -> (-28.2, -2.5)
  line L102 (-28.2, -2.5) -> (-29.5, -2.5)
  arc A63 (-29.5, -2.5) -> (-30, -3) centre (-29.5, -3) ccw
  line L103 (-8, -10) -> (-12, -10)
  line L104 (-8, 10) -> (-12, 10)
  point P0 (0, 0)
  point P1 (3.95, 2.6775)
  point P2 (-2.6775, 3.95)
  point P3 (0, 0)
  point P4 (-3.95, -2.6775)
  point P5 (0, 0)
  point P6 (2.6775, -3.95)
  point P7 (0, 0)
  point P8 (-20, 0)
  point P9 (-16.05, 2.6775)
  point P10 (-20, -4.1523)
  point P11 (-22.6775, 3.95)
  point P12 (-20, 0)
  point P13 (-20, 0)
  point P14 (-20, 0)
  point P15 (-17.3225, -3.95)
  point P16 (-23.95, -2.6775)
  point P17 (-10, 3)
  dimension "d1" = 2.5
  dimension "d2" = 2.5
  dimension "d3" = 1.8
  dimension "d4" = 1.8
  dimension "d5" = 45
  dimension "d6" = 2.15
  dimension "d7" = 2.15
  dimension "d8" = 1.8
  dimension "d11" = 10
  dimension "d12" = 10
  dimension "d14" = 1.8
  dimension "d15" = 1.8
  dimension "d16" = 2.6775
  dimension "d18" = 2
  dimension "d19" = 0.5
  dimension "d20" = 2
  dimension "d21" = 2.15
  dimension "d22" = 0.5
  dimension "d25" = 360
  dimension "d31" = 20
extrude "Profil_40x20" add sketch "Sketch1" along normal blind 460 contours A0 L1 A7 L11 L10 A1 L14 A3 L13 L9 A5 L6 L5 A4 L4 A2 L3 L2 A6 L0 | L6 A11 L22 L23 A12 L24 A13 L25 L26 A14 L27 A15 L16 A8 L17 L18 A9 L19 A10 L20 | L47 A28 L48 A29 L49 L50 A30 L51 A31 L40 A24 L41 L42 A25 L43 A26 L44 L34 A27 L9 | A19 L34 L35 A20 L36 A21 L37 L38 A22 L39 A23 L28 A16 L29 L30 A17 L31 A18 L32 L22 | A15 A53 L104 | L27 A37 L59 L87 A52 L86 A33 L61 L58 A34 L62 L55 A49 L85 A51 L84 L83 A50 L88 A53 | L28 A41 L69 A62 L100 L68 A40 L67 A61 L96 L81 A59 L58 L97 A60 L65 A39 L71 L66 A38 | A23 L103 A41 | L62 A36 L77 L99 A45 L73 A44 L74 L76 A46 L75 A43 L54 A32 L53 L52 A42 L72 A35 L63 | L81 L80 A57 L92 A56 L94 L95 A58 L93 A55 L90 A63 L102 L101 A54 L91 A48 L79 L77 A47
properties part number "Profil_40x20_460"
